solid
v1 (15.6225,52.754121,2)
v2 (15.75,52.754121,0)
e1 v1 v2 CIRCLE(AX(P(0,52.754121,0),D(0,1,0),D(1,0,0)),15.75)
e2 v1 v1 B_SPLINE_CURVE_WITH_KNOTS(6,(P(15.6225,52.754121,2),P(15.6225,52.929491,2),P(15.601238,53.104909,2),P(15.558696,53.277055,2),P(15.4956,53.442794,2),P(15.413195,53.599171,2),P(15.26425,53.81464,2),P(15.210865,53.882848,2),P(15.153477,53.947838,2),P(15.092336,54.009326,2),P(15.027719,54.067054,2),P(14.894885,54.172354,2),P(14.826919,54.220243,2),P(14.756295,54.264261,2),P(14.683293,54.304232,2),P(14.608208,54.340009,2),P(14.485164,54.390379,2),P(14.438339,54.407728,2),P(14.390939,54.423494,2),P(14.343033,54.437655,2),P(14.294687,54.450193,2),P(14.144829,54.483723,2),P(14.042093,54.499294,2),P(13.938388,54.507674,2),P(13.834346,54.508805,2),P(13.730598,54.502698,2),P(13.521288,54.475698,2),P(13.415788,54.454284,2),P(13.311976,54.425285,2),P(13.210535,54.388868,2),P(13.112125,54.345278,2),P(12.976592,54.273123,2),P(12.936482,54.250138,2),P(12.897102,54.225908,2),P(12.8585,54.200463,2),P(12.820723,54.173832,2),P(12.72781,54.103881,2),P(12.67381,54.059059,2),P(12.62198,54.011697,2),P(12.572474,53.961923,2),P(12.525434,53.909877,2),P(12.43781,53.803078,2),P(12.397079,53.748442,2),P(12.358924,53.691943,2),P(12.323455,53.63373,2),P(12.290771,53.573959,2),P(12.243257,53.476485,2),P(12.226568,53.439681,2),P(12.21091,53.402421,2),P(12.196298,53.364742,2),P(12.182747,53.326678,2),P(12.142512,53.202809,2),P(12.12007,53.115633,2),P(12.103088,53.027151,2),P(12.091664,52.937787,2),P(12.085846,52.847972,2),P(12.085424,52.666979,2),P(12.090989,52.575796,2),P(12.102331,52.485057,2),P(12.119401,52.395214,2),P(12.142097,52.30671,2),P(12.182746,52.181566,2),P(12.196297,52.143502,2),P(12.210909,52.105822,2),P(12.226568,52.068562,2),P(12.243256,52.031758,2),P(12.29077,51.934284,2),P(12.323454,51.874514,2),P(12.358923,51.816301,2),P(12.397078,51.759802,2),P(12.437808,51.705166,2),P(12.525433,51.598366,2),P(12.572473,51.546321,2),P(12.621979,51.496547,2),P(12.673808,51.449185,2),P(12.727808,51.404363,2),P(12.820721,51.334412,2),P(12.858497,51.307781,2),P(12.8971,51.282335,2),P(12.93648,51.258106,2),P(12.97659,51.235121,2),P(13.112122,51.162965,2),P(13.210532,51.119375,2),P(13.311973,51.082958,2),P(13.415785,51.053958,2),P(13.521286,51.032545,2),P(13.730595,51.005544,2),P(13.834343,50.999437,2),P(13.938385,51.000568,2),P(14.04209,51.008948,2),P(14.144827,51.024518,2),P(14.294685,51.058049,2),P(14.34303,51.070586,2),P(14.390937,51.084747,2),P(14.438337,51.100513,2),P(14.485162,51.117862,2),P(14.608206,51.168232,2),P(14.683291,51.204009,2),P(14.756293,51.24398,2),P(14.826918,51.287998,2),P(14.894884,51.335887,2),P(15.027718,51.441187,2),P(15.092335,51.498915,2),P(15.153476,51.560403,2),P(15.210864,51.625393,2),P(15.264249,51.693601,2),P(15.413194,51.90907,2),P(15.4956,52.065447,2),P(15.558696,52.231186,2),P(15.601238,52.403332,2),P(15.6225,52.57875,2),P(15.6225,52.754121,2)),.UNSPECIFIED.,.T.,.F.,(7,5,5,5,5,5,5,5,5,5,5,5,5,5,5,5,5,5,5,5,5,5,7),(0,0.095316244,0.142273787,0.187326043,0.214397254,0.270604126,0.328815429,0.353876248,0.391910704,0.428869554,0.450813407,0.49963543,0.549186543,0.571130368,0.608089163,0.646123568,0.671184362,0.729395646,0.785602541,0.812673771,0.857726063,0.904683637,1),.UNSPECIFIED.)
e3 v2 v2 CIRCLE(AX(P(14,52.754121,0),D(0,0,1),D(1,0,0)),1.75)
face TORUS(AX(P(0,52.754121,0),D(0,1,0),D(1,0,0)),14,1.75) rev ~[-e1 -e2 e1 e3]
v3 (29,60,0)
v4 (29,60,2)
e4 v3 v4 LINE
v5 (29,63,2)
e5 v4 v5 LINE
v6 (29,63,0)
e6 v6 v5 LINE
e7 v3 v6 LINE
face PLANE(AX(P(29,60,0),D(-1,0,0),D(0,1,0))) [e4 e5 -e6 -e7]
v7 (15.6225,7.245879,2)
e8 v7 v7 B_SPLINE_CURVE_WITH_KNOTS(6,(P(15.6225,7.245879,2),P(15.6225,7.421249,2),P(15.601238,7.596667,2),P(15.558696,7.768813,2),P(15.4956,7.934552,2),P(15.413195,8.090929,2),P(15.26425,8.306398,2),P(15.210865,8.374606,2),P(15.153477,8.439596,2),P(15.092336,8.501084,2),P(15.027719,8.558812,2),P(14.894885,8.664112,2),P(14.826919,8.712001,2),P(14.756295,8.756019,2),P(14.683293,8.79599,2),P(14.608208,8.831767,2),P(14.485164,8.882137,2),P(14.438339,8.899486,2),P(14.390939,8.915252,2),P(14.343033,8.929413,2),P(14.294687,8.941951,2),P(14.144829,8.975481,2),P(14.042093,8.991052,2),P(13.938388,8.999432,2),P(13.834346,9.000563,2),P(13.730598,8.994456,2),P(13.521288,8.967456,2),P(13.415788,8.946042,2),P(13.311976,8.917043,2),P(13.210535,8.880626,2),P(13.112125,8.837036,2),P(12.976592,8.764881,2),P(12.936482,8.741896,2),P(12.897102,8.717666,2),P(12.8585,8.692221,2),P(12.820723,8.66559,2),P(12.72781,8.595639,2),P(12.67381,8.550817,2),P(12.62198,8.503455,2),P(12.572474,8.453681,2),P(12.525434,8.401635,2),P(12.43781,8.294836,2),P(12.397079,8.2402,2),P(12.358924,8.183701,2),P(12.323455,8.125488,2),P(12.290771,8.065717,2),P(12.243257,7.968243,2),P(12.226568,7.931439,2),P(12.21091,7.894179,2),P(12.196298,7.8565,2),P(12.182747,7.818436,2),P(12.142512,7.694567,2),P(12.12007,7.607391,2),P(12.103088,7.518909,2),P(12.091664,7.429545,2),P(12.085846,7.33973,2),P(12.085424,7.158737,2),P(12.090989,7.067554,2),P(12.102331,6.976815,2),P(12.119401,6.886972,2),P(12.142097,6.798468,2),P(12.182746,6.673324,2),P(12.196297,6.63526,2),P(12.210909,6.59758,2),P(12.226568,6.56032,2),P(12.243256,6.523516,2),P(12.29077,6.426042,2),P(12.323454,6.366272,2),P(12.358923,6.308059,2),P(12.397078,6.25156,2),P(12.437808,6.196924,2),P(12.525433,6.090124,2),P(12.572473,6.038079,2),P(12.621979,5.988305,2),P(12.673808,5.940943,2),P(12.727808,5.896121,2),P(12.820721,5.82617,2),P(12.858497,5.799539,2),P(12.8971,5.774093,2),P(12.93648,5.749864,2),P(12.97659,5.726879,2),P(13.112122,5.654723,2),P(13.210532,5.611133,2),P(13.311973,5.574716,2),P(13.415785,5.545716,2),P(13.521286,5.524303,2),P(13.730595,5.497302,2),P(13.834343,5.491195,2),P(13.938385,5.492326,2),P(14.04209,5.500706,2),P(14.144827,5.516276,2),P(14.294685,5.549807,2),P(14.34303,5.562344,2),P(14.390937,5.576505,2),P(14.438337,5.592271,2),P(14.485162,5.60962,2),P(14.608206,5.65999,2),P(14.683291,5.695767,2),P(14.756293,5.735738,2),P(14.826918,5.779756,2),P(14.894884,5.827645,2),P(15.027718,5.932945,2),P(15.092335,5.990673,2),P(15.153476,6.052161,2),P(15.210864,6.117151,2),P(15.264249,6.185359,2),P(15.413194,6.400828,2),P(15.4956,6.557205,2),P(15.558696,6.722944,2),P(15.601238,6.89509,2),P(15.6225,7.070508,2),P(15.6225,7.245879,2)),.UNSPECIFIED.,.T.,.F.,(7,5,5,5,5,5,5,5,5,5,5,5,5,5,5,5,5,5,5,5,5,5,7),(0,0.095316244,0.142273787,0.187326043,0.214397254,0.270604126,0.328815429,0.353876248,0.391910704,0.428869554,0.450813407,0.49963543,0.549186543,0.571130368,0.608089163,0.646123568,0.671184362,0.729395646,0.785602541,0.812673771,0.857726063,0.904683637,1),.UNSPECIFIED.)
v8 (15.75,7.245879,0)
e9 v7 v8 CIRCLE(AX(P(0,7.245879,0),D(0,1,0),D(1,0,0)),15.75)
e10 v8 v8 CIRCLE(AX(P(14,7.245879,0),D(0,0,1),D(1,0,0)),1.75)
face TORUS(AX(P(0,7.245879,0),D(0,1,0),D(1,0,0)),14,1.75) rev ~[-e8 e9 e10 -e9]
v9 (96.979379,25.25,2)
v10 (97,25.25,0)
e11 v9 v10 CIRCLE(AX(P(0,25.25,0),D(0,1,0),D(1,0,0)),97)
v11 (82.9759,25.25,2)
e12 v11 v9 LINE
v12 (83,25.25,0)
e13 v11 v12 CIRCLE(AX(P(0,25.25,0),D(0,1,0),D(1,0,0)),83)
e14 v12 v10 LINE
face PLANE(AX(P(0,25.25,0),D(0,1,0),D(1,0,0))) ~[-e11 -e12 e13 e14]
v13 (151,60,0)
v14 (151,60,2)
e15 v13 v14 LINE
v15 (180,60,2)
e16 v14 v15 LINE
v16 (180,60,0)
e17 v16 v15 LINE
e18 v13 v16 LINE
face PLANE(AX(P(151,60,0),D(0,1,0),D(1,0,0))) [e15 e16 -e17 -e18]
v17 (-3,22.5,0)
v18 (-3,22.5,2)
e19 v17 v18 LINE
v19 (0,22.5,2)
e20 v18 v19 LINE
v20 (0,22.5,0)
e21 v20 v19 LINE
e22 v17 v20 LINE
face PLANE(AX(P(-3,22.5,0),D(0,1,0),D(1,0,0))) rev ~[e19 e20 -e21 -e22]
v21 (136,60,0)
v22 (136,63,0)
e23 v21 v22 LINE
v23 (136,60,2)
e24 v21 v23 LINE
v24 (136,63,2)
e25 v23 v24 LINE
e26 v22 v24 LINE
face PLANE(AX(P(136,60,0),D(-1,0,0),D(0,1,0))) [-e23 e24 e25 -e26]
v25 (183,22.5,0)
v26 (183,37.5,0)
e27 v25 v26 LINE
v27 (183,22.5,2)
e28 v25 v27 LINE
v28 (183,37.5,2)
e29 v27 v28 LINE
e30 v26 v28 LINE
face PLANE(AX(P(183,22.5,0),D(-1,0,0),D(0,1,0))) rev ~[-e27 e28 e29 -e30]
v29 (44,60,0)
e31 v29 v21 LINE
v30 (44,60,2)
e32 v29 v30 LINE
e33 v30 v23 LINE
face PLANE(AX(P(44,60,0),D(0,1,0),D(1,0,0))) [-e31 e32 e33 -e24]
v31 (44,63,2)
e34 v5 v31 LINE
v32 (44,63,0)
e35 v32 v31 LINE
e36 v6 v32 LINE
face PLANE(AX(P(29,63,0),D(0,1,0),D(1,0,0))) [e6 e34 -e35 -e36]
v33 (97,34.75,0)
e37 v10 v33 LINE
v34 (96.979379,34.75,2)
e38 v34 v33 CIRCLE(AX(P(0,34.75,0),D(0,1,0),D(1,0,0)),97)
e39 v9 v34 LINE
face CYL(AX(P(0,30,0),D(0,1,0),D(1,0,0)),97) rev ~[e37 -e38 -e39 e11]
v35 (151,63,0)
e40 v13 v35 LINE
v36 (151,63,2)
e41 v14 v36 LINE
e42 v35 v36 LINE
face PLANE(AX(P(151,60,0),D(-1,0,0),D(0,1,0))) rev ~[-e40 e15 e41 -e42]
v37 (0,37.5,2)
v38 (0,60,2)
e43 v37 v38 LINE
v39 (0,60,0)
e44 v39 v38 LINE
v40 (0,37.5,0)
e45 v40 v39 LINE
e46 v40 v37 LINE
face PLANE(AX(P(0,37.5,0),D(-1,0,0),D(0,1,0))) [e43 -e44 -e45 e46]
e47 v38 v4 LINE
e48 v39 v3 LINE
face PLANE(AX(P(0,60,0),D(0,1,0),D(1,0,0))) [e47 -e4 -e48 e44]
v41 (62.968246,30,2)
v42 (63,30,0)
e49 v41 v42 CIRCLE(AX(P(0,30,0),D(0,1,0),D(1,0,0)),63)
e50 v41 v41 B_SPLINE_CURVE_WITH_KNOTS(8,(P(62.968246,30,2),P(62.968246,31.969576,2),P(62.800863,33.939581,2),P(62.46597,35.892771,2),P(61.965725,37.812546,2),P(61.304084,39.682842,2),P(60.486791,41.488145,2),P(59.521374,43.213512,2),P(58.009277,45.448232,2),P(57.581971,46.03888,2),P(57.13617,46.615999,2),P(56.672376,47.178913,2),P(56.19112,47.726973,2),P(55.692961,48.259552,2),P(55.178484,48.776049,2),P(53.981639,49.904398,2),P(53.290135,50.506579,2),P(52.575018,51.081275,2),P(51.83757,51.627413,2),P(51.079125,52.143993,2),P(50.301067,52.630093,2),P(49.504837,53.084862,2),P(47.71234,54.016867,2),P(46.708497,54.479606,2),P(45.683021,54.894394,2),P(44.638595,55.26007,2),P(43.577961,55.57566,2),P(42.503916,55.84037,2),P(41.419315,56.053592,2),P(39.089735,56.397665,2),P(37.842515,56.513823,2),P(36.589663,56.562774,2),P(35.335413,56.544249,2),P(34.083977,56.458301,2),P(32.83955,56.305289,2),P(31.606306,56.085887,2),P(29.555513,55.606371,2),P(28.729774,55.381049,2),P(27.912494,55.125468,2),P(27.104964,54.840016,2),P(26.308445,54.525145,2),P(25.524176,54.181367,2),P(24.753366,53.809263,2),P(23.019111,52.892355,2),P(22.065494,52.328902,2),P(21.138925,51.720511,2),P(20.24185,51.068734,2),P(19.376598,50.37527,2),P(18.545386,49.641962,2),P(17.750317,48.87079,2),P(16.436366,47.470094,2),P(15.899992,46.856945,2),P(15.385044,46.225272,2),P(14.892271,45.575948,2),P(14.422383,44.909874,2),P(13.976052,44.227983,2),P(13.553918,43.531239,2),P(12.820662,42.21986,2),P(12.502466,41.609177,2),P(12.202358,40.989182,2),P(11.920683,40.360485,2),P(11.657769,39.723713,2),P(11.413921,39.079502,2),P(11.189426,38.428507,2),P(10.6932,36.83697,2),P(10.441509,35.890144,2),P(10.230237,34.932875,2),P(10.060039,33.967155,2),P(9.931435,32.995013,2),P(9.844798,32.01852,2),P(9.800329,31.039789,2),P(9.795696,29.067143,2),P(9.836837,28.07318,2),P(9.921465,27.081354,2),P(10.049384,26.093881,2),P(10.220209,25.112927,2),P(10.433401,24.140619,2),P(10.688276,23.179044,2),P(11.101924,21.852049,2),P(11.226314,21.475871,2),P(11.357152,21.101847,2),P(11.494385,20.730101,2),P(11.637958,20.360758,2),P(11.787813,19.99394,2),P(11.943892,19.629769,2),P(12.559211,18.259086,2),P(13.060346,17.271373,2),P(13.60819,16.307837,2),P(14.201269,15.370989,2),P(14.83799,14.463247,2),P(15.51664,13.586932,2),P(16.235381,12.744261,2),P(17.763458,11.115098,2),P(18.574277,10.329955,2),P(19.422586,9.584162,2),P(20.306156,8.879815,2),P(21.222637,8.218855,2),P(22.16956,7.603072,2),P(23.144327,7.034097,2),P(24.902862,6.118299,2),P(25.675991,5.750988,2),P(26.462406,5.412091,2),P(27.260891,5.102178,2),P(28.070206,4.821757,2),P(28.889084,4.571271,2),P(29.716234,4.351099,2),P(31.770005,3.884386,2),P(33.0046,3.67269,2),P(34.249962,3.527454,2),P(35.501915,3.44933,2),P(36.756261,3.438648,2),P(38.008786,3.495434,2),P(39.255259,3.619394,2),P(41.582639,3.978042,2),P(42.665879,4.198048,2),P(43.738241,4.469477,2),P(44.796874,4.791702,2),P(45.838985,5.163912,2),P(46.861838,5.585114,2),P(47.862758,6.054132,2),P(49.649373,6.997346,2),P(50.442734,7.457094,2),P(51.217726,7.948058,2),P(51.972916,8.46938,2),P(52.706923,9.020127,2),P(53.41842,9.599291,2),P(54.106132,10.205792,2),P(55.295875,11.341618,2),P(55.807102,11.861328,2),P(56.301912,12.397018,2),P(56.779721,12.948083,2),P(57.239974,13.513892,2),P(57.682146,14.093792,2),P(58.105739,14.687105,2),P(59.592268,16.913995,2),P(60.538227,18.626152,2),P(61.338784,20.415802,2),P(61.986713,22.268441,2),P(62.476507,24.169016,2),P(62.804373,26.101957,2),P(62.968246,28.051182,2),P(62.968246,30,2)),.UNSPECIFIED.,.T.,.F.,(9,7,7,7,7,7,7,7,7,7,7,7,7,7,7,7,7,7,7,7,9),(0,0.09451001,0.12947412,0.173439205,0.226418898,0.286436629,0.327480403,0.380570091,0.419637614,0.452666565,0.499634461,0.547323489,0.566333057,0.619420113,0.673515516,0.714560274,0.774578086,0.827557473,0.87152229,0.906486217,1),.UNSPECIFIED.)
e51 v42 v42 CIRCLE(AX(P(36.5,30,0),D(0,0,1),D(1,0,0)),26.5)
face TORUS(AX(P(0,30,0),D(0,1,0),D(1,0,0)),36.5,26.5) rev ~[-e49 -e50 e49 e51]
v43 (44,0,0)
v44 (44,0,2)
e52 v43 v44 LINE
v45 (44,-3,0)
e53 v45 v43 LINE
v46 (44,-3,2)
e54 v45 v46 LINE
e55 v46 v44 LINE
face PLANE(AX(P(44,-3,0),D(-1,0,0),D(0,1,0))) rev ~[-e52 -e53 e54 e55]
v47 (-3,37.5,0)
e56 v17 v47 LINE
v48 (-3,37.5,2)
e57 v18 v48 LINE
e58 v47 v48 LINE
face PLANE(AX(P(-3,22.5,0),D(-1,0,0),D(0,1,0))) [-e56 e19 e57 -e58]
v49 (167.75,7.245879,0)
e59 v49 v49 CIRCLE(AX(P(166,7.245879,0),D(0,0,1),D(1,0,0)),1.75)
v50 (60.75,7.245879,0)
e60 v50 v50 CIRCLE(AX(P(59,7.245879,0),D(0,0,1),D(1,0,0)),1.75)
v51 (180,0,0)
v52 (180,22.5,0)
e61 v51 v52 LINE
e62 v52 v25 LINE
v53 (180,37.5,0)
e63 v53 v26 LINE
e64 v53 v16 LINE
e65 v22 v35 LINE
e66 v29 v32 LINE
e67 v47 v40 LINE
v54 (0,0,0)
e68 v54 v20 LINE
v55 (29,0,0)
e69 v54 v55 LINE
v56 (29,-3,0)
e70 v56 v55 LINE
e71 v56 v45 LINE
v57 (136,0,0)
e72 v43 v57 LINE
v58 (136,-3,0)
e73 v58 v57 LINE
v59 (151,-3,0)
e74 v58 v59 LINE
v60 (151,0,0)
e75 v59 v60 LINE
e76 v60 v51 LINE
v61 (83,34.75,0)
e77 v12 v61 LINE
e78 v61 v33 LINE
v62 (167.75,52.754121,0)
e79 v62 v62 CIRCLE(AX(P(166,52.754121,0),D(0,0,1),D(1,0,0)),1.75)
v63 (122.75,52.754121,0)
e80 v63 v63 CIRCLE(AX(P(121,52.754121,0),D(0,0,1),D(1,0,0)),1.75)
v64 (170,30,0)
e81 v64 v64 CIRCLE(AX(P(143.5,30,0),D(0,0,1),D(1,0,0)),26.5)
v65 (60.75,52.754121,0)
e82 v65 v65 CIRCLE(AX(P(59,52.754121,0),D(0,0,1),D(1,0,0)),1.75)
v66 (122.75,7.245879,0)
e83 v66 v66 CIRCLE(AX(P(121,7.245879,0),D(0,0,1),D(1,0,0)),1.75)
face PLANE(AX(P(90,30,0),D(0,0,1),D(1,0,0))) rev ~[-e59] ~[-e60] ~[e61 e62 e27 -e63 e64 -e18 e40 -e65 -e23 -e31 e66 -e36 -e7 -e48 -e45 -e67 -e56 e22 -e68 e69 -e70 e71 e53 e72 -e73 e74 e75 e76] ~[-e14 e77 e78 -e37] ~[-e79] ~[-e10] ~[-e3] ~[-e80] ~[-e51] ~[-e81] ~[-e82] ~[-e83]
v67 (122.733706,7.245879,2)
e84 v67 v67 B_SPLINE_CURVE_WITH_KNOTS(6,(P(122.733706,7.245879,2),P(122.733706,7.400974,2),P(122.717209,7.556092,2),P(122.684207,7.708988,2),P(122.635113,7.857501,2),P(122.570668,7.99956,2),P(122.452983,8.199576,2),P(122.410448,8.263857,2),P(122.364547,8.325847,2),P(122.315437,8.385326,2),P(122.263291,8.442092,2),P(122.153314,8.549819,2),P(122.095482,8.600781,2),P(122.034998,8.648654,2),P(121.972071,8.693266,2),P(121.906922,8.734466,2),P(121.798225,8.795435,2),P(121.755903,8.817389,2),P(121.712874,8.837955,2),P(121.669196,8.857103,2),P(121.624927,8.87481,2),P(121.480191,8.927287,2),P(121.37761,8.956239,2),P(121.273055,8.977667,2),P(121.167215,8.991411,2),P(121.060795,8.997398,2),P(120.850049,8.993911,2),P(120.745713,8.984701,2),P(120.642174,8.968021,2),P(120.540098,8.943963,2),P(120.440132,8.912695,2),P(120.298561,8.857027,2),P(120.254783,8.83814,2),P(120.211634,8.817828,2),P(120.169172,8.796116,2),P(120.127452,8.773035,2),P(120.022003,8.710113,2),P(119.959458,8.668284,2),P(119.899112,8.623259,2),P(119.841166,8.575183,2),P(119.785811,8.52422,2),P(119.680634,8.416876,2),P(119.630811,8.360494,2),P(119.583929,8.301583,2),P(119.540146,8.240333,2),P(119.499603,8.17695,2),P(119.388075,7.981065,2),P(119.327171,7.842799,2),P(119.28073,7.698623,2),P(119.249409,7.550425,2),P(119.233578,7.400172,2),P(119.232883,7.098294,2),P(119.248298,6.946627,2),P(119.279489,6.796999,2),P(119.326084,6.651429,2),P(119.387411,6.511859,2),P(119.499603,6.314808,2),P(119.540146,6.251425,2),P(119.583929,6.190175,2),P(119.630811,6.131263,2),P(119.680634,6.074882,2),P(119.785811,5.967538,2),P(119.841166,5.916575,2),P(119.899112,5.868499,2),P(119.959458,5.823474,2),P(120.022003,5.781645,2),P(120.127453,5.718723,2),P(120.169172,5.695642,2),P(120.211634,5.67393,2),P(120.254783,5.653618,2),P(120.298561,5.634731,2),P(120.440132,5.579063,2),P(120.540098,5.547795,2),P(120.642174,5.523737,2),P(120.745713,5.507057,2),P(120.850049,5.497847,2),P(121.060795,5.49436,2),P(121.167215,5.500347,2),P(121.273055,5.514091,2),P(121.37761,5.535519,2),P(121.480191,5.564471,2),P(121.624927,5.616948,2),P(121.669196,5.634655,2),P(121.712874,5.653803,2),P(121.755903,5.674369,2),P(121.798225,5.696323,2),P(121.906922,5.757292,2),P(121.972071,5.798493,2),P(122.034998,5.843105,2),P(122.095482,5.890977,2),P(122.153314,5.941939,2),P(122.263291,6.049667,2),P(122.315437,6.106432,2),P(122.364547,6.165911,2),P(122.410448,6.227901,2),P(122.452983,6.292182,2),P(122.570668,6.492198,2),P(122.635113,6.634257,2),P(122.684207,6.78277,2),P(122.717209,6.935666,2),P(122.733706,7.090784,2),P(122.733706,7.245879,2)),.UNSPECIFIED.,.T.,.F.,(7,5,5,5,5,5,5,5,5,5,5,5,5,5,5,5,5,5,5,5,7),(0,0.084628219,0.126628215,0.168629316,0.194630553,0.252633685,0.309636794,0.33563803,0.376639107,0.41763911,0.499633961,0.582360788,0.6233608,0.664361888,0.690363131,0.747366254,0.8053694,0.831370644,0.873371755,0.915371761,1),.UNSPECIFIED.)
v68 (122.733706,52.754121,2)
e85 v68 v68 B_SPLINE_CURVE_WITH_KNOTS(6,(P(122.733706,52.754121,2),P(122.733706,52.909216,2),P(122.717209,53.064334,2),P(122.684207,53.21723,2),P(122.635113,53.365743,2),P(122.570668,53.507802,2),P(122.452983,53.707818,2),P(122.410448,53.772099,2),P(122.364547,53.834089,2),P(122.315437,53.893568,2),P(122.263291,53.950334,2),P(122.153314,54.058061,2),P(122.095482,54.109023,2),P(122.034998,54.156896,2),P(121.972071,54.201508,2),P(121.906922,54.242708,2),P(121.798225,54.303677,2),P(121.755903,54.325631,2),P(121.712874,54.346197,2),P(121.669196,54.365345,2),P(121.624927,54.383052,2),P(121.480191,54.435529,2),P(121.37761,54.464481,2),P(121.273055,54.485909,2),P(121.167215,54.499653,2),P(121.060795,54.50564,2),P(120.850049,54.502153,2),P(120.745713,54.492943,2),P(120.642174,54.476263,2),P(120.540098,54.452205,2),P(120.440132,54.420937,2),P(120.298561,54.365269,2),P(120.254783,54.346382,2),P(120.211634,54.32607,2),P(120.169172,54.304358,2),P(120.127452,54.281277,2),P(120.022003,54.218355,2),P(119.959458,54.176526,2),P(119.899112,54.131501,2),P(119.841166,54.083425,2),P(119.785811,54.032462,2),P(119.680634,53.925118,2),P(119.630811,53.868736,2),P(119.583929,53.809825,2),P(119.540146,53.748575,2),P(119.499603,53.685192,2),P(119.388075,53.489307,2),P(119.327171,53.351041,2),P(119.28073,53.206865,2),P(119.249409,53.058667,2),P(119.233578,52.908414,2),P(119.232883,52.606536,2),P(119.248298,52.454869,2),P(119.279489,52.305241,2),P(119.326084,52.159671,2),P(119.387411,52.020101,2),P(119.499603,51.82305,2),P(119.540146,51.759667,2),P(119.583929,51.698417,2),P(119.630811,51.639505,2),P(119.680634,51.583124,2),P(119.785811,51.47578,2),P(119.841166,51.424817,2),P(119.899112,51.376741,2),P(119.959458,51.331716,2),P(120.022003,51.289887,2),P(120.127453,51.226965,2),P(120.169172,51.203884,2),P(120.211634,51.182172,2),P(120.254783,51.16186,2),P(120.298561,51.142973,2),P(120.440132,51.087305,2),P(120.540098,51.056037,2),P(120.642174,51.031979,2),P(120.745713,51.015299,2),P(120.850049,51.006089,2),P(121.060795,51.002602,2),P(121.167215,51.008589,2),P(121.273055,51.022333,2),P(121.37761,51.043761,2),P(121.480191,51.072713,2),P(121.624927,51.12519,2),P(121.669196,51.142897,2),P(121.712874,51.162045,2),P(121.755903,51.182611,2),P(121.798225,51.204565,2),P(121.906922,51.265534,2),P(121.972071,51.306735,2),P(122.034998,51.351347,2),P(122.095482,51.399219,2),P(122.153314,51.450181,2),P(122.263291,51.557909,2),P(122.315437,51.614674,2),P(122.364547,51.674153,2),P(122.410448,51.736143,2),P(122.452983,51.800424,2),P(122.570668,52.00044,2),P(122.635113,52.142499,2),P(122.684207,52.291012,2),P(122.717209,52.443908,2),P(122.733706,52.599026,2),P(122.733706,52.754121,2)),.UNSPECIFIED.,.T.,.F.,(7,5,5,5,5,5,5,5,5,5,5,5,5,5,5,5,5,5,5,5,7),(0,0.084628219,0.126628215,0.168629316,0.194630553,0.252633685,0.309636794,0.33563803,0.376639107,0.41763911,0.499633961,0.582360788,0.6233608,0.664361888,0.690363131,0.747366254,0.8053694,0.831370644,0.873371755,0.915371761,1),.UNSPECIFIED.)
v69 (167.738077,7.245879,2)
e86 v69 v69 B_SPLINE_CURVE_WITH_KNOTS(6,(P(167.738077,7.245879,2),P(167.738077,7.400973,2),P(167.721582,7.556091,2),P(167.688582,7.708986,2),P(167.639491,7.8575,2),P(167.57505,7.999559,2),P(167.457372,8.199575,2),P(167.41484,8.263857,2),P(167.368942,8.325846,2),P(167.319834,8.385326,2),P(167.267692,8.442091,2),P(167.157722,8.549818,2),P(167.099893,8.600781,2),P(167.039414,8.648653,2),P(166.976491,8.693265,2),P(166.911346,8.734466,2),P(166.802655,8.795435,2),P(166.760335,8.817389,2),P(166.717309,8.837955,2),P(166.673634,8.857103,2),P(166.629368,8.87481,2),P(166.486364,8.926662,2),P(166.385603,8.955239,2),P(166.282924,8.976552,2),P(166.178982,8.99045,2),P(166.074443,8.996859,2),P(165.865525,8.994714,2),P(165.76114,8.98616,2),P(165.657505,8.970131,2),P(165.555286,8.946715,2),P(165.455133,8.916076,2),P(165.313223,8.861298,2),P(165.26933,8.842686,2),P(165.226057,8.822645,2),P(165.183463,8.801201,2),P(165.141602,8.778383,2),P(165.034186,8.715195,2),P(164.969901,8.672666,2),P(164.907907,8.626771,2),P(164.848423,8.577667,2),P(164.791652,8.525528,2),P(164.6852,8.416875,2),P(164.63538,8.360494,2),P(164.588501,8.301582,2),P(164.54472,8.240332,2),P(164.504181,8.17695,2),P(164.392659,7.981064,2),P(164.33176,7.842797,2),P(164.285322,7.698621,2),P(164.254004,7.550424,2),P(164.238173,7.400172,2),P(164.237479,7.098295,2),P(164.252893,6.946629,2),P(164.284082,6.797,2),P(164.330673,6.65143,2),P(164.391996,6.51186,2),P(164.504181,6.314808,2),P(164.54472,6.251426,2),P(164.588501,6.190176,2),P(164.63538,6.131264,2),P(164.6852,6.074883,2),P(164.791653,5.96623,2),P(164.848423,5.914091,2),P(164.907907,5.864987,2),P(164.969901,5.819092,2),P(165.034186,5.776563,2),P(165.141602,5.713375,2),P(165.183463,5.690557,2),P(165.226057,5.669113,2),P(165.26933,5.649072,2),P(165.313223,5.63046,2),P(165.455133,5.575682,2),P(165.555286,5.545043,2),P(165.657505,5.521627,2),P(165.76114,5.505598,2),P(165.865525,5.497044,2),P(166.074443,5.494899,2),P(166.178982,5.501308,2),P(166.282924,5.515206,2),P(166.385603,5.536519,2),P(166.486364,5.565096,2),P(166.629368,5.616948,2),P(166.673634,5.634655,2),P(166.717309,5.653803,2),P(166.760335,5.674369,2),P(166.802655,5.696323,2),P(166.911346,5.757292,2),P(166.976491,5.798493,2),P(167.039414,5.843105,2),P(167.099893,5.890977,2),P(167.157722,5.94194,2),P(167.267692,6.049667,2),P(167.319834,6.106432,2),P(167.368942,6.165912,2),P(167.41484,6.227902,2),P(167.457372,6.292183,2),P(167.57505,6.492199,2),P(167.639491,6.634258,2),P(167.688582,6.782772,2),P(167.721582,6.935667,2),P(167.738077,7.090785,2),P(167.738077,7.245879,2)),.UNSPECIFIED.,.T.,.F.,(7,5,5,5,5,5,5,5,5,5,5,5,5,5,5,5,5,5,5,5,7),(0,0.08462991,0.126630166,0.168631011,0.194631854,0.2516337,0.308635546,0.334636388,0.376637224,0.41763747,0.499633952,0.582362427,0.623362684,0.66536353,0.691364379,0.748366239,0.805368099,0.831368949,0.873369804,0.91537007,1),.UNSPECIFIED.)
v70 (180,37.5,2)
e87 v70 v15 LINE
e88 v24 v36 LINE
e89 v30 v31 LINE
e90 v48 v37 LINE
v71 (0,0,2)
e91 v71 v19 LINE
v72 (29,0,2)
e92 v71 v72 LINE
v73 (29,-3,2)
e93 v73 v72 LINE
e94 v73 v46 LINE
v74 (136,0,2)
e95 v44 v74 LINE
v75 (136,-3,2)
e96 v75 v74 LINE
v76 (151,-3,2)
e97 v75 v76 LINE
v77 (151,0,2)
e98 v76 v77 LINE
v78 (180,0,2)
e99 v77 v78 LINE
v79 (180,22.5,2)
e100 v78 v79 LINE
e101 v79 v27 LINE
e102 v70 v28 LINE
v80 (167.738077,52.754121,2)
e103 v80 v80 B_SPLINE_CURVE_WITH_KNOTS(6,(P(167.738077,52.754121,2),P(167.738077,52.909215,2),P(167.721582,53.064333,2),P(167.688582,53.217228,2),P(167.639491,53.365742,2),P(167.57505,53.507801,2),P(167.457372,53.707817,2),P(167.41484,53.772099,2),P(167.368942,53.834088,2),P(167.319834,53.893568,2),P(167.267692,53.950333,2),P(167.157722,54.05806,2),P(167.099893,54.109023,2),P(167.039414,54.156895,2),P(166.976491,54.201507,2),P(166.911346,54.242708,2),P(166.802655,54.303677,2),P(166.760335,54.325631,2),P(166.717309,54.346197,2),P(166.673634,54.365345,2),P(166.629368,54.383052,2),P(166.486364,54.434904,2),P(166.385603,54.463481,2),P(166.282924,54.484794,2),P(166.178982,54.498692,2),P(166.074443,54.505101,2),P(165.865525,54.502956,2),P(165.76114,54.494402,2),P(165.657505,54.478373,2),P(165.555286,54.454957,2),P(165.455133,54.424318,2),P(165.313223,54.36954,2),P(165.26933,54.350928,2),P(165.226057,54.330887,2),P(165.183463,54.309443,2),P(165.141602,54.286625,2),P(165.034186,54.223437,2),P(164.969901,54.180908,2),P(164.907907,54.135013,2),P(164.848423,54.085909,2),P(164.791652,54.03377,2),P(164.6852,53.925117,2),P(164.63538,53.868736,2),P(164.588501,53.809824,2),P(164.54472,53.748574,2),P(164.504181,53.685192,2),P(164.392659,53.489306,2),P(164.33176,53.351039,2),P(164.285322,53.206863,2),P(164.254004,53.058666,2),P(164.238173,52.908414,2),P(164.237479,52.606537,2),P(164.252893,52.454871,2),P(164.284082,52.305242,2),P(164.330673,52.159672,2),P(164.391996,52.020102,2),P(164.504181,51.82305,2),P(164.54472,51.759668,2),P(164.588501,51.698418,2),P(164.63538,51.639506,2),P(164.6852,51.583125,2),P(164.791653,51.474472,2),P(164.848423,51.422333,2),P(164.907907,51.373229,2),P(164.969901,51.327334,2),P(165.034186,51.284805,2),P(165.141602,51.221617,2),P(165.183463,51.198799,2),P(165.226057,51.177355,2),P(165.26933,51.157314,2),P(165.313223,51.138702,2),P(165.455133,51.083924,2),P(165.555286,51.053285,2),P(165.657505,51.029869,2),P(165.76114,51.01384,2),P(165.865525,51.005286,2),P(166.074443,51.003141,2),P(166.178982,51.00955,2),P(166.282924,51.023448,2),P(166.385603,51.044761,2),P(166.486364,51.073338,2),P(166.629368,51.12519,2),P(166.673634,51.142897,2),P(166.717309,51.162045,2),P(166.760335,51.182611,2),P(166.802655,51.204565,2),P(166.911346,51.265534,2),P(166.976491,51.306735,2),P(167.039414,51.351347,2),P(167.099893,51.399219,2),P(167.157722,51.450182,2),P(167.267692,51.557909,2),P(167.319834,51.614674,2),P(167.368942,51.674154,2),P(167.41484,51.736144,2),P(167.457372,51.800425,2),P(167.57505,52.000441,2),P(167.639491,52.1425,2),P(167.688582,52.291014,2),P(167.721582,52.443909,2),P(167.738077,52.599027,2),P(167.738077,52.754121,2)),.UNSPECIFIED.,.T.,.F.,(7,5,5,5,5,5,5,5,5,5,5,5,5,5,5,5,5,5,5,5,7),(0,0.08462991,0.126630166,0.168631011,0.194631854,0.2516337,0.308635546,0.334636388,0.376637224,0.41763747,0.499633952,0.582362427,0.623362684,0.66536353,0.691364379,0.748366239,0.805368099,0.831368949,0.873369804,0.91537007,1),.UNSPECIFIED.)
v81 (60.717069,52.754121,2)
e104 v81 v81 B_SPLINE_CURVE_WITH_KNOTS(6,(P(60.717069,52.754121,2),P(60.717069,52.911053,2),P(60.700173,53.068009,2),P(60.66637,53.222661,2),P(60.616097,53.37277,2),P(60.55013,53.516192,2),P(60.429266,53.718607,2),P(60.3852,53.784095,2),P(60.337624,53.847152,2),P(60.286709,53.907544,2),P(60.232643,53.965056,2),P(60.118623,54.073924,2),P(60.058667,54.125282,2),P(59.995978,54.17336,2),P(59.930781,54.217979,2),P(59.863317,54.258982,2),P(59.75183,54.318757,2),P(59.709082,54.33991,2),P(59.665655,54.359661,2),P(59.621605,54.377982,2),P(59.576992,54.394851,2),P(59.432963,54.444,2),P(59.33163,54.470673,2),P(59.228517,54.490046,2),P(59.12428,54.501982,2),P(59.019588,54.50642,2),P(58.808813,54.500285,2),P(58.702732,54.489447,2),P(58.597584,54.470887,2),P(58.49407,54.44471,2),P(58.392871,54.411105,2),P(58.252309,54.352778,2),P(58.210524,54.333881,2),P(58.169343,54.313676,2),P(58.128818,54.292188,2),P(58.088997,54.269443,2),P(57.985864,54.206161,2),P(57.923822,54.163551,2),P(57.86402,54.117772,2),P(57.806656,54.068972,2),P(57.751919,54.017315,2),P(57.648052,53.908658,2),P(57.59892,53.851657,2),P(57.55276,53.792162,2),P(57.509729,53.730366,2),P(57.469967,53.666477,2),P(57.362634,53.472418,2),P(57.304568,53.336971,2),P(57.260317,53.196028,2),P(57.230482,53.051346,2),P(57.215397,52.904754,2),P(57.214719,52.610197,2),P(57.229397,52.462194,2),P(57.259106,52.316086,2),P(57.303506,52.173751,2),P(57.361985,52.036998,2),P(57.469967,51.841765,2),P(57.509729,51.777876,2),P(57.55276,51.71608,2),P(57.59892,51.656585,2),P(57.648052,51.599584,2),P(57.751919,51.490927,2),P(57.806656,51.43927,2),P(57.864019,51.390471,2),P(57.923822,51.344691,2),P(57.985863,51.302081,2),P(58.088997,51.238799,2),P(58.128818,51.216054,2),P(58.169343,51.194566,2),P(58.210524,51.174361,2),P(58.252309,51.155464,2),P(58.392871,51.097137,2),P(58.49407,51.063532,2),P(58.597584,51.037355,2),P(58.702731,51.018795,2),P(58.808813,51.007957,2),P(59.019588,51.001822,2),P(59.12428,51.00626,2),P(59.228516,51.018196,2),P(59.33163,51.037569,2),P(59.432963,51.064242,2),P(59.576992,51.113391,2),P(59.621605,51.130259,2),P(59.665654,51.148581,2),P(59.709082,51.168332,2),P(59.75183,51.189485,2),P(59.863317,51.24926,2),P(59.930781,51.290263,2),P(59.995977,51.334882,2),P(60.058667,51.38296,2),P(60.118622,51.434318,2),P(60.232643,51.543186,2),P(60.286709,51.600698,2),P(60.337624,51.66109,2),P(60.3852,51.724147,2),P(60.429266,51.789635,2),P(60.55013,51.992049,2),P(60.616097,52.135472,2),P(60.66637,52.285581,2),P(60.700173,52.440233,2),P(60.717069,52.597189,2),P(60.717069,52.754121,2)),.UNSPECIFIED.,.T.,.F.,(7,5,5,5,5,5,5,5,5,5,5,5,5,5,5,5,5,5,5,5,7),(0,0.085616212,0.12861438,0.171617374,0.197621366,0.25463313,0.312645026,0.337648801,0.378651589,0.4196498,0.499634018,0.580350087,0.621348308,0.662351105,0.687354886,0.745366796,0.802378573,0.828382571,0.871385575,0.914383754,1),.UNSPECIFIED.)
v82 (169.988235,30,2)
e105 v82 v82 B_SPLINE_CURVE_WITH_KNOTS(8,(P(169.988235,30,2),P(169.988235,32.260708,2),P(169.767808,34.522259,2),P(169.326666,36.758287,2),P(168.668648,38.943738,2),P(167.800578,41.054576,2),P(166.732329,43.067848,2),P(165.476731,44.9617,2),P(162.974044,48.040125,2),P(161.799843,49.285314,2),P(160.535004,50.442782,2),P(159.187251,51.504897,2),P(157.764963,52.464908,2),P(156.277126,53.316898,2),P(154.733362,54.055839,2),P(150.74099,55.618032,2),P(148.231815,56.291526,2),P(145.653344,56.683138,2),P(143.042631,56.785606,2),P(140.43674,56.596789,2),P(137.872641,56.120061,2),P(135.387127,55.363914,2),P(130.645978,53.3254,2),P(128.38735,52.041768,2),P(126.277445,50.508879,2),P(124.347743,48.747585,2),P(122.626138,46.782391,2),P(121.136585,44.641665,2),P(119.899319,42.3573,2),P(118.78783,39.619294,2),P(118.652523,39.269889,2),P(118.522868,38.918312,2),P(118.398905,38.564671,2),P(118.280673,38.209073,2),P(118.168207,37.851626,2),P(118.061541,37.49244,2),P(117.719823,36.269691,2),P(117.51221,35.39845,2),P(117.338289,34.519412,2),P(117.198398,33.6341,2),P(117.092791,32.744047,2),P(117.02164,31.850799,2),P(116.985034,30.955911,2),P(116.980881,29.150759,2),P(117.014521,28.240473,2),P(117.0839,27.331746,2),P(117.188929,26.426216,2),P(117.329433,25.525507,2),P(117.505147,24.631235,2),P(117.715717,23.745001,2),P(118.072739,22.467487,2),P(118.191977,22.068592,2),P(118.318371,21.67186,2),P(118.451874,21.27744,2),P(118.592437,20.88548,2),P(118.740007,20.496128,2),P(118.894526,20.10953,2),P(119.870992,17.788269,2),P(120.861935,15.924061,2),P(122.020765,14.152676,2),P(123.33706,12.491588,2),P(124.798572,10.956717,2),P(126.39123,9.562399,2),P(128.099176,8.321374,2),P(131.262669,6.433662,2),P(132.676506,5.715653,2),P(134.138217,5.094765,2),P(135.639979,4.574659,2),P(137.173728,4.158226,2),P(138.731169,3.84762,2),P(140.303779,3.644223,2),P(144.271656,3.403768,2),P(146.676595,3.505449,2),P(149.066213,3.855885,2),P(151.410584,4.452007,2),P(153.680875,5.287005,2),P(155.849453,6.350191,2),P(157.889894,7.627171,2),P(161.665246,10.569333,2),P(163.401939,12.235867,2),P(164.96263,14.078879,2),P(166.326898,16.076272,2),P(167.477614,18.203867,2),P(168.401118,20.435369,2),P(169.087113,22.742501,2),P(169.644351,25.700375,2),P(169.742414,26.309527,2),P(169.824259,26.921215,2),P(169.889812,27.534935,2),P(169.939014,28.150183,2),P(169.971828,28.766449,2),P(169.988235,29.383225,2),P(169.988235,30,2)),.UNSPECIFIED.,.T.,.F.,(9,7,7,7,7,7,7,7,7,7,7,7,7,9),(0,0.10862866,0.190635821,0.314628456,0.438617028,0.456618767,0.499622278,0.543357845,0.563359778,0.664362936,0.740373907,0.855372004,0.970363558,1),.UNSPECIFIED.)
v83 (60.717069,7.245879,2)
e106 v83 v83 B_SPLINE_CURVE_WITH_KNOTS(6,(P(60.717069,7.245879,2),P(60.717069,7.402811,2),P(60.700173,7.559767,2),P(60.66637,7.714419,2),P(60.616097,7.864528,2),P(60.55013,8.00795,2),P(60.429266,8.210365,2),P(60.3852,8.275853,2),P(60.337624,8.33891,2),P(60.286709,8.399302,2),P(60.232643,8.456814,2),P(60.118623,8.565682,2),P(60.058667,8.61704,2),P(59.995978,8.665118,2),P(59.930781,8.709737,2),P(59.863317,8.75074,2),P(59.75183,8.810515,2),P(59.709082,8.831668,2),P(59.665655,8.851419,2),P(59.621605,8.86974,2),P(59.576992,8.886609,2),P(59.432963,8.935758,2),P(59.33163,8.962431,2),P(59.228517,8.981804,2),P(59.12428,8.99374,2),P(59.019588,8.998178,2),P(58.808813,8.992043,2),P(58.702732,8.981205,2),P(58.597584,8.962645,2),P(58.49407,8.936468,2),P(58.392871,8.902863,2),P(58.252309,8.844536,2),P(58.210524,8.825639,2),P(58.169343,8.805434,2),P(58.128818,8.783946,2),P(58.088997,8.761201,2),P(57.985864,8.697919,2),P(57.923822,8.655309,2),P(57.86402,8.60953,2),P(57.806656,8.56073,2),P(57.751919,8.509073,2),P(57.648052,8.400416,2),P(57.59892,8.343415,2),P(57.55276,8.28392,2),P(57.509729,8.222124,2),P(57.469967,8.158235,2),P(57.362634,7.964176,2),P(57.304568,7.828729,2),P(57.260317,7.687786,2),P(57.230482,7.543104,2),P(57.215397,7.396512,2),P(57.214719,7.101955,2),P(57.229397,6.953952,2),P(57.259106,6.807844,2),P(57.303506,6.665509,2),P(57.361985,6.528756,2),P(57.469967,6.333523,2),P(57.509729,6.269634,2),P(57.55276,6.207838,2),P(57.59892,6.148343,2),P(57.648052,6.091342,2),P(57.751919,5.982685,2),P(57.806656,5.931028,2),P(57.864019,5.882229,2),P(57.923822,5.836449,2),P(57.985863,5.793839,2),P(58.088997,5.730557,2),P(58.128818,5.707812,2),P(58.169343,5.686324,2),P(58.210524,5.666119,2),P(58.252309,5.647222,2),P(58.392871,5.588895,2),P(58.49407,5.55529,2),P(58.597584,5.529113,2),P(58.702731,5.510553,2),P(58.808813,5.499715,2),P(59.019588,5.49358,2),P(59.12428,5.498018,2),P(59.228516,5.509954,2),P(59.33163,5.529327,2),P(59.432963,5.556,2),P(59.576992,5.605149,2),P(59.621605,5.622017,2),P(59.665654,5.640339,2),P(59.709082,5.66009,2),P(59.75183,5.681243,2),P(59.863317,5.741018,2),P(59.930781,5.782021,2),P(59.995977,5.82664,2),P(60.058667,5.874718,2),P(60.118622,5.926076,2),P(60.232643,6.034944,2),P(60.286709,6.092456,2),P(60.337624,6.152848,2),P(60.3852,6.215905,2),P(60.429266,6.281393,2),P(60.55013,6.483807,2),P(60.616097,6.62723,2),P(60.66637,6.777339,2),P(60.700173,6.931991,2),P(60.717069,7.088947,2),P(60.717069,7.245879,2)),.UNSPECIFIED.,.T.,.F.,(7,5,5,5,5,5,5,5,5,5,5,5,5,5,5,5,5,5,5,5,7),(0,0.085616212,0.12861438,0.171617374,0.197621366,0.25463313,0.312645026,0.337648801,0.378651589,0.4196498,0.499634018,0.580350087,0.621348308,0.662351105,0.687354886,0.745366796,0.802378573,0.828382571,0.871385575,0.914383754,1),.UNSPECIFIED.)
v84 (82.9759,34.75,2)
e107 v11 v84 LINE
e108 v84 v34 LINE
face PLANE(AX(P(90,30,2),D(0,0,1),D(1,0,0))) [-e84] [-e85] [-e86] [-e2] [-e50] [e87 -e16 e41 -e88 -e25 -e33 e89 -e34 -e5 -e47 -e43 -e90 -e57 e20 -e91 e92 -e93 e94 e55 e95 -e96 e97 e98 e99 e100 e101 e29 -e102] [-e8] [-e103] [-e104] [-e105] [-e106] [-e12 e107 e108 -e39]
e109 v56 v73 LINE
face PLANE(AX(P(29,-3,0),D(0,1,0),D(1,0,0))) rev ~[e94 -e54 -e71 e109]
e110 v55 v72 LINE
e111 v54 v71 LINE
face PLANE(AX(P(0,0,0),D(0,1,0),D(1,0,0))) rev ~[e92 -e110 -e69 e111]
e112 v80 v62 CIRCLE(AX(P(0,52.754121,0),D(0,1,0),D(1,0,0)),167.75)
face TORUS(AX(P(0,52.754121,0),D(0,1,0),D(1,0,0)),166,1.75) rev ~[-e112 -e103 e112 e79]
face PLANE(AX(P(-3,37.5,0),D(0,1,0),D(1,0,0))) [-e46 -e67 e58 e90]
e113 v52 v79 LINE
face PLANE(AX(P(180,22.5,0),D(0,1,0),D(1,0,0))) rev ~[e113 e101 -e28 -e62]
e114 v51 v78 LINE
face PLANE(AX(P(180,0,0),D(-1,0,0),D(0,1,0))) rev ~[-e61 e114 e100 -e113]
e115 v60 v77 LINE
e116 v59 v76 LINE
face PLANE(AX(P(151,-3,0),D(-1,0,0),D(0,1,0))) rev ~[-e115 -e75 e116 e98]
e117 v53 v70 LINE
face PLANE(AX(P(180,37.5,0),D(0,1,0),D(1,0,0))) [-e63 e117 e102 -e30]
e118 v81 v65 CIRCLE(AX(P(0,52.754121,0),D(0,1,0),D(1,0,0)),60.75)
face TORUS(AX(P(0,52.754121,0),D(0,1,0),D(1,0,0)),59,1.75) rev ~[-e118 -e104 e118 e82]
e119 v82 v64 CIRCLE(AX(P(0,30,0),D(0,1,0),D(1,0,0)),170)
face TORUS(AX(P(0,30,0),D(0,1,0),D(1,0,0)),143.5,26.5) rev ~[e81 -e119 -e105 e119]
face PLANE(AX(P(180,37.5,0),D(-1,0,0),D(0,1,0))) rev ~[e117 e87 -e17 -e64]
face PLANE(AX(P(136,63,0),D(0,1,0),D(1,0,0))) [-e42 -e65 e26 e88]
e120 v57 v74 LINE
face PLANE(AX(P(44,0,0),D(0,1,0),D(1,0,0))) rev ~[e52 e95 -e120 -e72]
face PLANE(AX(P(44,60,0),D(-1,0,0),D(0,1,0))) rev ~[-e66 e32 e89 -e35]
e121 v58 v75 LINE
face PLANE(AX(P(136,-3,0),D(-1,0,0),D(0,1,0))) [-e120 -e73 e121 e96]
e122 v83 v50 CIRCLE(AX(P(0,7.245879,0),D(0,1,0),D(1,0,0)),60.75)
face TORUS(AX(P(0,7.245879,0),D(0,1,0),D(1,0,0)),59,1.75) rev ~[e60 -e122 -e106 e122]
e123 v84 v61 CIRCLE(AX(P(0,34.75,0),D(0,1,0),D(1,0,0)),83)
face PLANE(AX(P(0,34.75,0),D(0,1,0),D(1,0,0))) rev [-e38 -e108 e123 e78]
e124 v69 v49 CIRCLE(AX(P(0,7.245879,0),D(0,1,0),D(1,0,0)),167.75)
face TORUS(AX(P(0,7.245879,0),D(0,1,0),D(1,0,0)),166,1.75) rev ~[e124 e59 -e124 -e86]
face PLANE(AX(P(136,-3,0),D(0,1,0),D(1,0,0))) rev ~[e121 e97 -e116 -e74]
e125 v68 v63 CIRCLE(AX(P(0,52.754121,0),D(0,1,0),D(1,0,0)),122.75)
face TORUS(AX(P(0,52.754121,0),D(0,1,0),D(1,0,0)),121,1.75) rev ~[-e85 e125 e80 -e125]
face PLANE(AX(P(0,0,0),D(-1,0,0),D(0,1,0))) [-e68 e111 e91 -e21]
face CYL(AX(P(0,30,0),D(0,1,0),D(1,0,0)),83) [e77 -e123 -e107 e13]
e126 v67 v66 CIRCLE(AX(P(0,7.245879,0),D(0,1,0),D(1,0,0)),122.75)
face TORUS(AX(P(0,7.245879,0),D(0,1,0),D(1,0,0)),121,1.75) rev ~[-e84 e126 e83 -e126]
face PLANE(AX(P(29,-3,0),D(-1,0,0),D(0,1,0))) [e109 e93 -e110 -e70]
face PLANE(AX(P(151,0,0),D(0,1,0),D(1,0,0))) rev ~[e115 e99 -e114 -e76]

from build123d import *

# Parameters (mm, degrees)
SKETCH001_W   = 180
SKETCH001_H   = 60
SKETCH001_W_2 = 15
SKETCH001_H_2 = 3
SKETCH001_W_3 = 3
SKETCH001_H_3 = 15
PAD_DEPTH     = 2
SKETCH_R      = 1.75
SKETCH_R_2    = 26.5
SKETCH_W      = 14
SKETCH_H      = 9.5


with BuildPart() as part:
    # Sketch001 → Pad (new body)
    with BuildSketch(Plane.XY):
        with Locations((90, 30)):
            Rectangle(SKETCH001_W, SKETCH001_H)
        with Locations((36.5, 61.5)):
            Rectangle(SKETCH001_W_2, SKETCH001_H_2)
        with Locations((36.5, -1.5)):
            Rectangle(SKETCH001_W_2, SKETCH001_H_2)
        with Locations((143.5, 61.5)):
            Rectangle(SKETCH001_W_2, SKETCH001_H_2)
        with Locations((143.5, -1.5)):
            Rectangle(SKETCH001_W_2, SKETCH001_H_2)
        with Locations((-1.5, 30)):
            Rectangle(SKETCH001_W_3, SKETCH001_H_3)
        with Locations((181.5, 30)):
            Rectangle(SKETCH001_W_3, SKETCH001_H_3)
    extrude(amount=PAD_DEPTH)

    # Sketch → Groove (revolve, cut)
    with BuildSketch(Plane.XY):
        with Locations((14, 52.754121)):
            Circle(SKETCH_R)
        with Locations((59, 52.754121)):
            Circle(SKETCH_R)
        with Locations((14, 7.245879)):
            Circle(SKETCH_R)
        with Locations((59, 7.245879)):
            Circle(SKETCH_R)
        with Locations((36.5, 30)):
            Circle(SKETCH_R_2)
        with Locations((166, 52.754121)):
            Circle(SKETCH_R)
        with Locations((121, 52.754121)):
            Circle(SKETCH_R)
        with Locations((166, 7.245879)):
            Circle(SKETCH_R)
        with Locations((121, 7.245879)):
            Circle(SKETCH_R)
        with Locations((143.5, 30)):
            Circle(SKETCH_R_2)
        with Locations((90, 30)):
            Rectangle(SKETCH_W, SKETCH_H)
    revolve(axis=Axis((0, 0, 0), (0, 1, 0)), mode=Mode.SUBTRACT)


solid = part.part
